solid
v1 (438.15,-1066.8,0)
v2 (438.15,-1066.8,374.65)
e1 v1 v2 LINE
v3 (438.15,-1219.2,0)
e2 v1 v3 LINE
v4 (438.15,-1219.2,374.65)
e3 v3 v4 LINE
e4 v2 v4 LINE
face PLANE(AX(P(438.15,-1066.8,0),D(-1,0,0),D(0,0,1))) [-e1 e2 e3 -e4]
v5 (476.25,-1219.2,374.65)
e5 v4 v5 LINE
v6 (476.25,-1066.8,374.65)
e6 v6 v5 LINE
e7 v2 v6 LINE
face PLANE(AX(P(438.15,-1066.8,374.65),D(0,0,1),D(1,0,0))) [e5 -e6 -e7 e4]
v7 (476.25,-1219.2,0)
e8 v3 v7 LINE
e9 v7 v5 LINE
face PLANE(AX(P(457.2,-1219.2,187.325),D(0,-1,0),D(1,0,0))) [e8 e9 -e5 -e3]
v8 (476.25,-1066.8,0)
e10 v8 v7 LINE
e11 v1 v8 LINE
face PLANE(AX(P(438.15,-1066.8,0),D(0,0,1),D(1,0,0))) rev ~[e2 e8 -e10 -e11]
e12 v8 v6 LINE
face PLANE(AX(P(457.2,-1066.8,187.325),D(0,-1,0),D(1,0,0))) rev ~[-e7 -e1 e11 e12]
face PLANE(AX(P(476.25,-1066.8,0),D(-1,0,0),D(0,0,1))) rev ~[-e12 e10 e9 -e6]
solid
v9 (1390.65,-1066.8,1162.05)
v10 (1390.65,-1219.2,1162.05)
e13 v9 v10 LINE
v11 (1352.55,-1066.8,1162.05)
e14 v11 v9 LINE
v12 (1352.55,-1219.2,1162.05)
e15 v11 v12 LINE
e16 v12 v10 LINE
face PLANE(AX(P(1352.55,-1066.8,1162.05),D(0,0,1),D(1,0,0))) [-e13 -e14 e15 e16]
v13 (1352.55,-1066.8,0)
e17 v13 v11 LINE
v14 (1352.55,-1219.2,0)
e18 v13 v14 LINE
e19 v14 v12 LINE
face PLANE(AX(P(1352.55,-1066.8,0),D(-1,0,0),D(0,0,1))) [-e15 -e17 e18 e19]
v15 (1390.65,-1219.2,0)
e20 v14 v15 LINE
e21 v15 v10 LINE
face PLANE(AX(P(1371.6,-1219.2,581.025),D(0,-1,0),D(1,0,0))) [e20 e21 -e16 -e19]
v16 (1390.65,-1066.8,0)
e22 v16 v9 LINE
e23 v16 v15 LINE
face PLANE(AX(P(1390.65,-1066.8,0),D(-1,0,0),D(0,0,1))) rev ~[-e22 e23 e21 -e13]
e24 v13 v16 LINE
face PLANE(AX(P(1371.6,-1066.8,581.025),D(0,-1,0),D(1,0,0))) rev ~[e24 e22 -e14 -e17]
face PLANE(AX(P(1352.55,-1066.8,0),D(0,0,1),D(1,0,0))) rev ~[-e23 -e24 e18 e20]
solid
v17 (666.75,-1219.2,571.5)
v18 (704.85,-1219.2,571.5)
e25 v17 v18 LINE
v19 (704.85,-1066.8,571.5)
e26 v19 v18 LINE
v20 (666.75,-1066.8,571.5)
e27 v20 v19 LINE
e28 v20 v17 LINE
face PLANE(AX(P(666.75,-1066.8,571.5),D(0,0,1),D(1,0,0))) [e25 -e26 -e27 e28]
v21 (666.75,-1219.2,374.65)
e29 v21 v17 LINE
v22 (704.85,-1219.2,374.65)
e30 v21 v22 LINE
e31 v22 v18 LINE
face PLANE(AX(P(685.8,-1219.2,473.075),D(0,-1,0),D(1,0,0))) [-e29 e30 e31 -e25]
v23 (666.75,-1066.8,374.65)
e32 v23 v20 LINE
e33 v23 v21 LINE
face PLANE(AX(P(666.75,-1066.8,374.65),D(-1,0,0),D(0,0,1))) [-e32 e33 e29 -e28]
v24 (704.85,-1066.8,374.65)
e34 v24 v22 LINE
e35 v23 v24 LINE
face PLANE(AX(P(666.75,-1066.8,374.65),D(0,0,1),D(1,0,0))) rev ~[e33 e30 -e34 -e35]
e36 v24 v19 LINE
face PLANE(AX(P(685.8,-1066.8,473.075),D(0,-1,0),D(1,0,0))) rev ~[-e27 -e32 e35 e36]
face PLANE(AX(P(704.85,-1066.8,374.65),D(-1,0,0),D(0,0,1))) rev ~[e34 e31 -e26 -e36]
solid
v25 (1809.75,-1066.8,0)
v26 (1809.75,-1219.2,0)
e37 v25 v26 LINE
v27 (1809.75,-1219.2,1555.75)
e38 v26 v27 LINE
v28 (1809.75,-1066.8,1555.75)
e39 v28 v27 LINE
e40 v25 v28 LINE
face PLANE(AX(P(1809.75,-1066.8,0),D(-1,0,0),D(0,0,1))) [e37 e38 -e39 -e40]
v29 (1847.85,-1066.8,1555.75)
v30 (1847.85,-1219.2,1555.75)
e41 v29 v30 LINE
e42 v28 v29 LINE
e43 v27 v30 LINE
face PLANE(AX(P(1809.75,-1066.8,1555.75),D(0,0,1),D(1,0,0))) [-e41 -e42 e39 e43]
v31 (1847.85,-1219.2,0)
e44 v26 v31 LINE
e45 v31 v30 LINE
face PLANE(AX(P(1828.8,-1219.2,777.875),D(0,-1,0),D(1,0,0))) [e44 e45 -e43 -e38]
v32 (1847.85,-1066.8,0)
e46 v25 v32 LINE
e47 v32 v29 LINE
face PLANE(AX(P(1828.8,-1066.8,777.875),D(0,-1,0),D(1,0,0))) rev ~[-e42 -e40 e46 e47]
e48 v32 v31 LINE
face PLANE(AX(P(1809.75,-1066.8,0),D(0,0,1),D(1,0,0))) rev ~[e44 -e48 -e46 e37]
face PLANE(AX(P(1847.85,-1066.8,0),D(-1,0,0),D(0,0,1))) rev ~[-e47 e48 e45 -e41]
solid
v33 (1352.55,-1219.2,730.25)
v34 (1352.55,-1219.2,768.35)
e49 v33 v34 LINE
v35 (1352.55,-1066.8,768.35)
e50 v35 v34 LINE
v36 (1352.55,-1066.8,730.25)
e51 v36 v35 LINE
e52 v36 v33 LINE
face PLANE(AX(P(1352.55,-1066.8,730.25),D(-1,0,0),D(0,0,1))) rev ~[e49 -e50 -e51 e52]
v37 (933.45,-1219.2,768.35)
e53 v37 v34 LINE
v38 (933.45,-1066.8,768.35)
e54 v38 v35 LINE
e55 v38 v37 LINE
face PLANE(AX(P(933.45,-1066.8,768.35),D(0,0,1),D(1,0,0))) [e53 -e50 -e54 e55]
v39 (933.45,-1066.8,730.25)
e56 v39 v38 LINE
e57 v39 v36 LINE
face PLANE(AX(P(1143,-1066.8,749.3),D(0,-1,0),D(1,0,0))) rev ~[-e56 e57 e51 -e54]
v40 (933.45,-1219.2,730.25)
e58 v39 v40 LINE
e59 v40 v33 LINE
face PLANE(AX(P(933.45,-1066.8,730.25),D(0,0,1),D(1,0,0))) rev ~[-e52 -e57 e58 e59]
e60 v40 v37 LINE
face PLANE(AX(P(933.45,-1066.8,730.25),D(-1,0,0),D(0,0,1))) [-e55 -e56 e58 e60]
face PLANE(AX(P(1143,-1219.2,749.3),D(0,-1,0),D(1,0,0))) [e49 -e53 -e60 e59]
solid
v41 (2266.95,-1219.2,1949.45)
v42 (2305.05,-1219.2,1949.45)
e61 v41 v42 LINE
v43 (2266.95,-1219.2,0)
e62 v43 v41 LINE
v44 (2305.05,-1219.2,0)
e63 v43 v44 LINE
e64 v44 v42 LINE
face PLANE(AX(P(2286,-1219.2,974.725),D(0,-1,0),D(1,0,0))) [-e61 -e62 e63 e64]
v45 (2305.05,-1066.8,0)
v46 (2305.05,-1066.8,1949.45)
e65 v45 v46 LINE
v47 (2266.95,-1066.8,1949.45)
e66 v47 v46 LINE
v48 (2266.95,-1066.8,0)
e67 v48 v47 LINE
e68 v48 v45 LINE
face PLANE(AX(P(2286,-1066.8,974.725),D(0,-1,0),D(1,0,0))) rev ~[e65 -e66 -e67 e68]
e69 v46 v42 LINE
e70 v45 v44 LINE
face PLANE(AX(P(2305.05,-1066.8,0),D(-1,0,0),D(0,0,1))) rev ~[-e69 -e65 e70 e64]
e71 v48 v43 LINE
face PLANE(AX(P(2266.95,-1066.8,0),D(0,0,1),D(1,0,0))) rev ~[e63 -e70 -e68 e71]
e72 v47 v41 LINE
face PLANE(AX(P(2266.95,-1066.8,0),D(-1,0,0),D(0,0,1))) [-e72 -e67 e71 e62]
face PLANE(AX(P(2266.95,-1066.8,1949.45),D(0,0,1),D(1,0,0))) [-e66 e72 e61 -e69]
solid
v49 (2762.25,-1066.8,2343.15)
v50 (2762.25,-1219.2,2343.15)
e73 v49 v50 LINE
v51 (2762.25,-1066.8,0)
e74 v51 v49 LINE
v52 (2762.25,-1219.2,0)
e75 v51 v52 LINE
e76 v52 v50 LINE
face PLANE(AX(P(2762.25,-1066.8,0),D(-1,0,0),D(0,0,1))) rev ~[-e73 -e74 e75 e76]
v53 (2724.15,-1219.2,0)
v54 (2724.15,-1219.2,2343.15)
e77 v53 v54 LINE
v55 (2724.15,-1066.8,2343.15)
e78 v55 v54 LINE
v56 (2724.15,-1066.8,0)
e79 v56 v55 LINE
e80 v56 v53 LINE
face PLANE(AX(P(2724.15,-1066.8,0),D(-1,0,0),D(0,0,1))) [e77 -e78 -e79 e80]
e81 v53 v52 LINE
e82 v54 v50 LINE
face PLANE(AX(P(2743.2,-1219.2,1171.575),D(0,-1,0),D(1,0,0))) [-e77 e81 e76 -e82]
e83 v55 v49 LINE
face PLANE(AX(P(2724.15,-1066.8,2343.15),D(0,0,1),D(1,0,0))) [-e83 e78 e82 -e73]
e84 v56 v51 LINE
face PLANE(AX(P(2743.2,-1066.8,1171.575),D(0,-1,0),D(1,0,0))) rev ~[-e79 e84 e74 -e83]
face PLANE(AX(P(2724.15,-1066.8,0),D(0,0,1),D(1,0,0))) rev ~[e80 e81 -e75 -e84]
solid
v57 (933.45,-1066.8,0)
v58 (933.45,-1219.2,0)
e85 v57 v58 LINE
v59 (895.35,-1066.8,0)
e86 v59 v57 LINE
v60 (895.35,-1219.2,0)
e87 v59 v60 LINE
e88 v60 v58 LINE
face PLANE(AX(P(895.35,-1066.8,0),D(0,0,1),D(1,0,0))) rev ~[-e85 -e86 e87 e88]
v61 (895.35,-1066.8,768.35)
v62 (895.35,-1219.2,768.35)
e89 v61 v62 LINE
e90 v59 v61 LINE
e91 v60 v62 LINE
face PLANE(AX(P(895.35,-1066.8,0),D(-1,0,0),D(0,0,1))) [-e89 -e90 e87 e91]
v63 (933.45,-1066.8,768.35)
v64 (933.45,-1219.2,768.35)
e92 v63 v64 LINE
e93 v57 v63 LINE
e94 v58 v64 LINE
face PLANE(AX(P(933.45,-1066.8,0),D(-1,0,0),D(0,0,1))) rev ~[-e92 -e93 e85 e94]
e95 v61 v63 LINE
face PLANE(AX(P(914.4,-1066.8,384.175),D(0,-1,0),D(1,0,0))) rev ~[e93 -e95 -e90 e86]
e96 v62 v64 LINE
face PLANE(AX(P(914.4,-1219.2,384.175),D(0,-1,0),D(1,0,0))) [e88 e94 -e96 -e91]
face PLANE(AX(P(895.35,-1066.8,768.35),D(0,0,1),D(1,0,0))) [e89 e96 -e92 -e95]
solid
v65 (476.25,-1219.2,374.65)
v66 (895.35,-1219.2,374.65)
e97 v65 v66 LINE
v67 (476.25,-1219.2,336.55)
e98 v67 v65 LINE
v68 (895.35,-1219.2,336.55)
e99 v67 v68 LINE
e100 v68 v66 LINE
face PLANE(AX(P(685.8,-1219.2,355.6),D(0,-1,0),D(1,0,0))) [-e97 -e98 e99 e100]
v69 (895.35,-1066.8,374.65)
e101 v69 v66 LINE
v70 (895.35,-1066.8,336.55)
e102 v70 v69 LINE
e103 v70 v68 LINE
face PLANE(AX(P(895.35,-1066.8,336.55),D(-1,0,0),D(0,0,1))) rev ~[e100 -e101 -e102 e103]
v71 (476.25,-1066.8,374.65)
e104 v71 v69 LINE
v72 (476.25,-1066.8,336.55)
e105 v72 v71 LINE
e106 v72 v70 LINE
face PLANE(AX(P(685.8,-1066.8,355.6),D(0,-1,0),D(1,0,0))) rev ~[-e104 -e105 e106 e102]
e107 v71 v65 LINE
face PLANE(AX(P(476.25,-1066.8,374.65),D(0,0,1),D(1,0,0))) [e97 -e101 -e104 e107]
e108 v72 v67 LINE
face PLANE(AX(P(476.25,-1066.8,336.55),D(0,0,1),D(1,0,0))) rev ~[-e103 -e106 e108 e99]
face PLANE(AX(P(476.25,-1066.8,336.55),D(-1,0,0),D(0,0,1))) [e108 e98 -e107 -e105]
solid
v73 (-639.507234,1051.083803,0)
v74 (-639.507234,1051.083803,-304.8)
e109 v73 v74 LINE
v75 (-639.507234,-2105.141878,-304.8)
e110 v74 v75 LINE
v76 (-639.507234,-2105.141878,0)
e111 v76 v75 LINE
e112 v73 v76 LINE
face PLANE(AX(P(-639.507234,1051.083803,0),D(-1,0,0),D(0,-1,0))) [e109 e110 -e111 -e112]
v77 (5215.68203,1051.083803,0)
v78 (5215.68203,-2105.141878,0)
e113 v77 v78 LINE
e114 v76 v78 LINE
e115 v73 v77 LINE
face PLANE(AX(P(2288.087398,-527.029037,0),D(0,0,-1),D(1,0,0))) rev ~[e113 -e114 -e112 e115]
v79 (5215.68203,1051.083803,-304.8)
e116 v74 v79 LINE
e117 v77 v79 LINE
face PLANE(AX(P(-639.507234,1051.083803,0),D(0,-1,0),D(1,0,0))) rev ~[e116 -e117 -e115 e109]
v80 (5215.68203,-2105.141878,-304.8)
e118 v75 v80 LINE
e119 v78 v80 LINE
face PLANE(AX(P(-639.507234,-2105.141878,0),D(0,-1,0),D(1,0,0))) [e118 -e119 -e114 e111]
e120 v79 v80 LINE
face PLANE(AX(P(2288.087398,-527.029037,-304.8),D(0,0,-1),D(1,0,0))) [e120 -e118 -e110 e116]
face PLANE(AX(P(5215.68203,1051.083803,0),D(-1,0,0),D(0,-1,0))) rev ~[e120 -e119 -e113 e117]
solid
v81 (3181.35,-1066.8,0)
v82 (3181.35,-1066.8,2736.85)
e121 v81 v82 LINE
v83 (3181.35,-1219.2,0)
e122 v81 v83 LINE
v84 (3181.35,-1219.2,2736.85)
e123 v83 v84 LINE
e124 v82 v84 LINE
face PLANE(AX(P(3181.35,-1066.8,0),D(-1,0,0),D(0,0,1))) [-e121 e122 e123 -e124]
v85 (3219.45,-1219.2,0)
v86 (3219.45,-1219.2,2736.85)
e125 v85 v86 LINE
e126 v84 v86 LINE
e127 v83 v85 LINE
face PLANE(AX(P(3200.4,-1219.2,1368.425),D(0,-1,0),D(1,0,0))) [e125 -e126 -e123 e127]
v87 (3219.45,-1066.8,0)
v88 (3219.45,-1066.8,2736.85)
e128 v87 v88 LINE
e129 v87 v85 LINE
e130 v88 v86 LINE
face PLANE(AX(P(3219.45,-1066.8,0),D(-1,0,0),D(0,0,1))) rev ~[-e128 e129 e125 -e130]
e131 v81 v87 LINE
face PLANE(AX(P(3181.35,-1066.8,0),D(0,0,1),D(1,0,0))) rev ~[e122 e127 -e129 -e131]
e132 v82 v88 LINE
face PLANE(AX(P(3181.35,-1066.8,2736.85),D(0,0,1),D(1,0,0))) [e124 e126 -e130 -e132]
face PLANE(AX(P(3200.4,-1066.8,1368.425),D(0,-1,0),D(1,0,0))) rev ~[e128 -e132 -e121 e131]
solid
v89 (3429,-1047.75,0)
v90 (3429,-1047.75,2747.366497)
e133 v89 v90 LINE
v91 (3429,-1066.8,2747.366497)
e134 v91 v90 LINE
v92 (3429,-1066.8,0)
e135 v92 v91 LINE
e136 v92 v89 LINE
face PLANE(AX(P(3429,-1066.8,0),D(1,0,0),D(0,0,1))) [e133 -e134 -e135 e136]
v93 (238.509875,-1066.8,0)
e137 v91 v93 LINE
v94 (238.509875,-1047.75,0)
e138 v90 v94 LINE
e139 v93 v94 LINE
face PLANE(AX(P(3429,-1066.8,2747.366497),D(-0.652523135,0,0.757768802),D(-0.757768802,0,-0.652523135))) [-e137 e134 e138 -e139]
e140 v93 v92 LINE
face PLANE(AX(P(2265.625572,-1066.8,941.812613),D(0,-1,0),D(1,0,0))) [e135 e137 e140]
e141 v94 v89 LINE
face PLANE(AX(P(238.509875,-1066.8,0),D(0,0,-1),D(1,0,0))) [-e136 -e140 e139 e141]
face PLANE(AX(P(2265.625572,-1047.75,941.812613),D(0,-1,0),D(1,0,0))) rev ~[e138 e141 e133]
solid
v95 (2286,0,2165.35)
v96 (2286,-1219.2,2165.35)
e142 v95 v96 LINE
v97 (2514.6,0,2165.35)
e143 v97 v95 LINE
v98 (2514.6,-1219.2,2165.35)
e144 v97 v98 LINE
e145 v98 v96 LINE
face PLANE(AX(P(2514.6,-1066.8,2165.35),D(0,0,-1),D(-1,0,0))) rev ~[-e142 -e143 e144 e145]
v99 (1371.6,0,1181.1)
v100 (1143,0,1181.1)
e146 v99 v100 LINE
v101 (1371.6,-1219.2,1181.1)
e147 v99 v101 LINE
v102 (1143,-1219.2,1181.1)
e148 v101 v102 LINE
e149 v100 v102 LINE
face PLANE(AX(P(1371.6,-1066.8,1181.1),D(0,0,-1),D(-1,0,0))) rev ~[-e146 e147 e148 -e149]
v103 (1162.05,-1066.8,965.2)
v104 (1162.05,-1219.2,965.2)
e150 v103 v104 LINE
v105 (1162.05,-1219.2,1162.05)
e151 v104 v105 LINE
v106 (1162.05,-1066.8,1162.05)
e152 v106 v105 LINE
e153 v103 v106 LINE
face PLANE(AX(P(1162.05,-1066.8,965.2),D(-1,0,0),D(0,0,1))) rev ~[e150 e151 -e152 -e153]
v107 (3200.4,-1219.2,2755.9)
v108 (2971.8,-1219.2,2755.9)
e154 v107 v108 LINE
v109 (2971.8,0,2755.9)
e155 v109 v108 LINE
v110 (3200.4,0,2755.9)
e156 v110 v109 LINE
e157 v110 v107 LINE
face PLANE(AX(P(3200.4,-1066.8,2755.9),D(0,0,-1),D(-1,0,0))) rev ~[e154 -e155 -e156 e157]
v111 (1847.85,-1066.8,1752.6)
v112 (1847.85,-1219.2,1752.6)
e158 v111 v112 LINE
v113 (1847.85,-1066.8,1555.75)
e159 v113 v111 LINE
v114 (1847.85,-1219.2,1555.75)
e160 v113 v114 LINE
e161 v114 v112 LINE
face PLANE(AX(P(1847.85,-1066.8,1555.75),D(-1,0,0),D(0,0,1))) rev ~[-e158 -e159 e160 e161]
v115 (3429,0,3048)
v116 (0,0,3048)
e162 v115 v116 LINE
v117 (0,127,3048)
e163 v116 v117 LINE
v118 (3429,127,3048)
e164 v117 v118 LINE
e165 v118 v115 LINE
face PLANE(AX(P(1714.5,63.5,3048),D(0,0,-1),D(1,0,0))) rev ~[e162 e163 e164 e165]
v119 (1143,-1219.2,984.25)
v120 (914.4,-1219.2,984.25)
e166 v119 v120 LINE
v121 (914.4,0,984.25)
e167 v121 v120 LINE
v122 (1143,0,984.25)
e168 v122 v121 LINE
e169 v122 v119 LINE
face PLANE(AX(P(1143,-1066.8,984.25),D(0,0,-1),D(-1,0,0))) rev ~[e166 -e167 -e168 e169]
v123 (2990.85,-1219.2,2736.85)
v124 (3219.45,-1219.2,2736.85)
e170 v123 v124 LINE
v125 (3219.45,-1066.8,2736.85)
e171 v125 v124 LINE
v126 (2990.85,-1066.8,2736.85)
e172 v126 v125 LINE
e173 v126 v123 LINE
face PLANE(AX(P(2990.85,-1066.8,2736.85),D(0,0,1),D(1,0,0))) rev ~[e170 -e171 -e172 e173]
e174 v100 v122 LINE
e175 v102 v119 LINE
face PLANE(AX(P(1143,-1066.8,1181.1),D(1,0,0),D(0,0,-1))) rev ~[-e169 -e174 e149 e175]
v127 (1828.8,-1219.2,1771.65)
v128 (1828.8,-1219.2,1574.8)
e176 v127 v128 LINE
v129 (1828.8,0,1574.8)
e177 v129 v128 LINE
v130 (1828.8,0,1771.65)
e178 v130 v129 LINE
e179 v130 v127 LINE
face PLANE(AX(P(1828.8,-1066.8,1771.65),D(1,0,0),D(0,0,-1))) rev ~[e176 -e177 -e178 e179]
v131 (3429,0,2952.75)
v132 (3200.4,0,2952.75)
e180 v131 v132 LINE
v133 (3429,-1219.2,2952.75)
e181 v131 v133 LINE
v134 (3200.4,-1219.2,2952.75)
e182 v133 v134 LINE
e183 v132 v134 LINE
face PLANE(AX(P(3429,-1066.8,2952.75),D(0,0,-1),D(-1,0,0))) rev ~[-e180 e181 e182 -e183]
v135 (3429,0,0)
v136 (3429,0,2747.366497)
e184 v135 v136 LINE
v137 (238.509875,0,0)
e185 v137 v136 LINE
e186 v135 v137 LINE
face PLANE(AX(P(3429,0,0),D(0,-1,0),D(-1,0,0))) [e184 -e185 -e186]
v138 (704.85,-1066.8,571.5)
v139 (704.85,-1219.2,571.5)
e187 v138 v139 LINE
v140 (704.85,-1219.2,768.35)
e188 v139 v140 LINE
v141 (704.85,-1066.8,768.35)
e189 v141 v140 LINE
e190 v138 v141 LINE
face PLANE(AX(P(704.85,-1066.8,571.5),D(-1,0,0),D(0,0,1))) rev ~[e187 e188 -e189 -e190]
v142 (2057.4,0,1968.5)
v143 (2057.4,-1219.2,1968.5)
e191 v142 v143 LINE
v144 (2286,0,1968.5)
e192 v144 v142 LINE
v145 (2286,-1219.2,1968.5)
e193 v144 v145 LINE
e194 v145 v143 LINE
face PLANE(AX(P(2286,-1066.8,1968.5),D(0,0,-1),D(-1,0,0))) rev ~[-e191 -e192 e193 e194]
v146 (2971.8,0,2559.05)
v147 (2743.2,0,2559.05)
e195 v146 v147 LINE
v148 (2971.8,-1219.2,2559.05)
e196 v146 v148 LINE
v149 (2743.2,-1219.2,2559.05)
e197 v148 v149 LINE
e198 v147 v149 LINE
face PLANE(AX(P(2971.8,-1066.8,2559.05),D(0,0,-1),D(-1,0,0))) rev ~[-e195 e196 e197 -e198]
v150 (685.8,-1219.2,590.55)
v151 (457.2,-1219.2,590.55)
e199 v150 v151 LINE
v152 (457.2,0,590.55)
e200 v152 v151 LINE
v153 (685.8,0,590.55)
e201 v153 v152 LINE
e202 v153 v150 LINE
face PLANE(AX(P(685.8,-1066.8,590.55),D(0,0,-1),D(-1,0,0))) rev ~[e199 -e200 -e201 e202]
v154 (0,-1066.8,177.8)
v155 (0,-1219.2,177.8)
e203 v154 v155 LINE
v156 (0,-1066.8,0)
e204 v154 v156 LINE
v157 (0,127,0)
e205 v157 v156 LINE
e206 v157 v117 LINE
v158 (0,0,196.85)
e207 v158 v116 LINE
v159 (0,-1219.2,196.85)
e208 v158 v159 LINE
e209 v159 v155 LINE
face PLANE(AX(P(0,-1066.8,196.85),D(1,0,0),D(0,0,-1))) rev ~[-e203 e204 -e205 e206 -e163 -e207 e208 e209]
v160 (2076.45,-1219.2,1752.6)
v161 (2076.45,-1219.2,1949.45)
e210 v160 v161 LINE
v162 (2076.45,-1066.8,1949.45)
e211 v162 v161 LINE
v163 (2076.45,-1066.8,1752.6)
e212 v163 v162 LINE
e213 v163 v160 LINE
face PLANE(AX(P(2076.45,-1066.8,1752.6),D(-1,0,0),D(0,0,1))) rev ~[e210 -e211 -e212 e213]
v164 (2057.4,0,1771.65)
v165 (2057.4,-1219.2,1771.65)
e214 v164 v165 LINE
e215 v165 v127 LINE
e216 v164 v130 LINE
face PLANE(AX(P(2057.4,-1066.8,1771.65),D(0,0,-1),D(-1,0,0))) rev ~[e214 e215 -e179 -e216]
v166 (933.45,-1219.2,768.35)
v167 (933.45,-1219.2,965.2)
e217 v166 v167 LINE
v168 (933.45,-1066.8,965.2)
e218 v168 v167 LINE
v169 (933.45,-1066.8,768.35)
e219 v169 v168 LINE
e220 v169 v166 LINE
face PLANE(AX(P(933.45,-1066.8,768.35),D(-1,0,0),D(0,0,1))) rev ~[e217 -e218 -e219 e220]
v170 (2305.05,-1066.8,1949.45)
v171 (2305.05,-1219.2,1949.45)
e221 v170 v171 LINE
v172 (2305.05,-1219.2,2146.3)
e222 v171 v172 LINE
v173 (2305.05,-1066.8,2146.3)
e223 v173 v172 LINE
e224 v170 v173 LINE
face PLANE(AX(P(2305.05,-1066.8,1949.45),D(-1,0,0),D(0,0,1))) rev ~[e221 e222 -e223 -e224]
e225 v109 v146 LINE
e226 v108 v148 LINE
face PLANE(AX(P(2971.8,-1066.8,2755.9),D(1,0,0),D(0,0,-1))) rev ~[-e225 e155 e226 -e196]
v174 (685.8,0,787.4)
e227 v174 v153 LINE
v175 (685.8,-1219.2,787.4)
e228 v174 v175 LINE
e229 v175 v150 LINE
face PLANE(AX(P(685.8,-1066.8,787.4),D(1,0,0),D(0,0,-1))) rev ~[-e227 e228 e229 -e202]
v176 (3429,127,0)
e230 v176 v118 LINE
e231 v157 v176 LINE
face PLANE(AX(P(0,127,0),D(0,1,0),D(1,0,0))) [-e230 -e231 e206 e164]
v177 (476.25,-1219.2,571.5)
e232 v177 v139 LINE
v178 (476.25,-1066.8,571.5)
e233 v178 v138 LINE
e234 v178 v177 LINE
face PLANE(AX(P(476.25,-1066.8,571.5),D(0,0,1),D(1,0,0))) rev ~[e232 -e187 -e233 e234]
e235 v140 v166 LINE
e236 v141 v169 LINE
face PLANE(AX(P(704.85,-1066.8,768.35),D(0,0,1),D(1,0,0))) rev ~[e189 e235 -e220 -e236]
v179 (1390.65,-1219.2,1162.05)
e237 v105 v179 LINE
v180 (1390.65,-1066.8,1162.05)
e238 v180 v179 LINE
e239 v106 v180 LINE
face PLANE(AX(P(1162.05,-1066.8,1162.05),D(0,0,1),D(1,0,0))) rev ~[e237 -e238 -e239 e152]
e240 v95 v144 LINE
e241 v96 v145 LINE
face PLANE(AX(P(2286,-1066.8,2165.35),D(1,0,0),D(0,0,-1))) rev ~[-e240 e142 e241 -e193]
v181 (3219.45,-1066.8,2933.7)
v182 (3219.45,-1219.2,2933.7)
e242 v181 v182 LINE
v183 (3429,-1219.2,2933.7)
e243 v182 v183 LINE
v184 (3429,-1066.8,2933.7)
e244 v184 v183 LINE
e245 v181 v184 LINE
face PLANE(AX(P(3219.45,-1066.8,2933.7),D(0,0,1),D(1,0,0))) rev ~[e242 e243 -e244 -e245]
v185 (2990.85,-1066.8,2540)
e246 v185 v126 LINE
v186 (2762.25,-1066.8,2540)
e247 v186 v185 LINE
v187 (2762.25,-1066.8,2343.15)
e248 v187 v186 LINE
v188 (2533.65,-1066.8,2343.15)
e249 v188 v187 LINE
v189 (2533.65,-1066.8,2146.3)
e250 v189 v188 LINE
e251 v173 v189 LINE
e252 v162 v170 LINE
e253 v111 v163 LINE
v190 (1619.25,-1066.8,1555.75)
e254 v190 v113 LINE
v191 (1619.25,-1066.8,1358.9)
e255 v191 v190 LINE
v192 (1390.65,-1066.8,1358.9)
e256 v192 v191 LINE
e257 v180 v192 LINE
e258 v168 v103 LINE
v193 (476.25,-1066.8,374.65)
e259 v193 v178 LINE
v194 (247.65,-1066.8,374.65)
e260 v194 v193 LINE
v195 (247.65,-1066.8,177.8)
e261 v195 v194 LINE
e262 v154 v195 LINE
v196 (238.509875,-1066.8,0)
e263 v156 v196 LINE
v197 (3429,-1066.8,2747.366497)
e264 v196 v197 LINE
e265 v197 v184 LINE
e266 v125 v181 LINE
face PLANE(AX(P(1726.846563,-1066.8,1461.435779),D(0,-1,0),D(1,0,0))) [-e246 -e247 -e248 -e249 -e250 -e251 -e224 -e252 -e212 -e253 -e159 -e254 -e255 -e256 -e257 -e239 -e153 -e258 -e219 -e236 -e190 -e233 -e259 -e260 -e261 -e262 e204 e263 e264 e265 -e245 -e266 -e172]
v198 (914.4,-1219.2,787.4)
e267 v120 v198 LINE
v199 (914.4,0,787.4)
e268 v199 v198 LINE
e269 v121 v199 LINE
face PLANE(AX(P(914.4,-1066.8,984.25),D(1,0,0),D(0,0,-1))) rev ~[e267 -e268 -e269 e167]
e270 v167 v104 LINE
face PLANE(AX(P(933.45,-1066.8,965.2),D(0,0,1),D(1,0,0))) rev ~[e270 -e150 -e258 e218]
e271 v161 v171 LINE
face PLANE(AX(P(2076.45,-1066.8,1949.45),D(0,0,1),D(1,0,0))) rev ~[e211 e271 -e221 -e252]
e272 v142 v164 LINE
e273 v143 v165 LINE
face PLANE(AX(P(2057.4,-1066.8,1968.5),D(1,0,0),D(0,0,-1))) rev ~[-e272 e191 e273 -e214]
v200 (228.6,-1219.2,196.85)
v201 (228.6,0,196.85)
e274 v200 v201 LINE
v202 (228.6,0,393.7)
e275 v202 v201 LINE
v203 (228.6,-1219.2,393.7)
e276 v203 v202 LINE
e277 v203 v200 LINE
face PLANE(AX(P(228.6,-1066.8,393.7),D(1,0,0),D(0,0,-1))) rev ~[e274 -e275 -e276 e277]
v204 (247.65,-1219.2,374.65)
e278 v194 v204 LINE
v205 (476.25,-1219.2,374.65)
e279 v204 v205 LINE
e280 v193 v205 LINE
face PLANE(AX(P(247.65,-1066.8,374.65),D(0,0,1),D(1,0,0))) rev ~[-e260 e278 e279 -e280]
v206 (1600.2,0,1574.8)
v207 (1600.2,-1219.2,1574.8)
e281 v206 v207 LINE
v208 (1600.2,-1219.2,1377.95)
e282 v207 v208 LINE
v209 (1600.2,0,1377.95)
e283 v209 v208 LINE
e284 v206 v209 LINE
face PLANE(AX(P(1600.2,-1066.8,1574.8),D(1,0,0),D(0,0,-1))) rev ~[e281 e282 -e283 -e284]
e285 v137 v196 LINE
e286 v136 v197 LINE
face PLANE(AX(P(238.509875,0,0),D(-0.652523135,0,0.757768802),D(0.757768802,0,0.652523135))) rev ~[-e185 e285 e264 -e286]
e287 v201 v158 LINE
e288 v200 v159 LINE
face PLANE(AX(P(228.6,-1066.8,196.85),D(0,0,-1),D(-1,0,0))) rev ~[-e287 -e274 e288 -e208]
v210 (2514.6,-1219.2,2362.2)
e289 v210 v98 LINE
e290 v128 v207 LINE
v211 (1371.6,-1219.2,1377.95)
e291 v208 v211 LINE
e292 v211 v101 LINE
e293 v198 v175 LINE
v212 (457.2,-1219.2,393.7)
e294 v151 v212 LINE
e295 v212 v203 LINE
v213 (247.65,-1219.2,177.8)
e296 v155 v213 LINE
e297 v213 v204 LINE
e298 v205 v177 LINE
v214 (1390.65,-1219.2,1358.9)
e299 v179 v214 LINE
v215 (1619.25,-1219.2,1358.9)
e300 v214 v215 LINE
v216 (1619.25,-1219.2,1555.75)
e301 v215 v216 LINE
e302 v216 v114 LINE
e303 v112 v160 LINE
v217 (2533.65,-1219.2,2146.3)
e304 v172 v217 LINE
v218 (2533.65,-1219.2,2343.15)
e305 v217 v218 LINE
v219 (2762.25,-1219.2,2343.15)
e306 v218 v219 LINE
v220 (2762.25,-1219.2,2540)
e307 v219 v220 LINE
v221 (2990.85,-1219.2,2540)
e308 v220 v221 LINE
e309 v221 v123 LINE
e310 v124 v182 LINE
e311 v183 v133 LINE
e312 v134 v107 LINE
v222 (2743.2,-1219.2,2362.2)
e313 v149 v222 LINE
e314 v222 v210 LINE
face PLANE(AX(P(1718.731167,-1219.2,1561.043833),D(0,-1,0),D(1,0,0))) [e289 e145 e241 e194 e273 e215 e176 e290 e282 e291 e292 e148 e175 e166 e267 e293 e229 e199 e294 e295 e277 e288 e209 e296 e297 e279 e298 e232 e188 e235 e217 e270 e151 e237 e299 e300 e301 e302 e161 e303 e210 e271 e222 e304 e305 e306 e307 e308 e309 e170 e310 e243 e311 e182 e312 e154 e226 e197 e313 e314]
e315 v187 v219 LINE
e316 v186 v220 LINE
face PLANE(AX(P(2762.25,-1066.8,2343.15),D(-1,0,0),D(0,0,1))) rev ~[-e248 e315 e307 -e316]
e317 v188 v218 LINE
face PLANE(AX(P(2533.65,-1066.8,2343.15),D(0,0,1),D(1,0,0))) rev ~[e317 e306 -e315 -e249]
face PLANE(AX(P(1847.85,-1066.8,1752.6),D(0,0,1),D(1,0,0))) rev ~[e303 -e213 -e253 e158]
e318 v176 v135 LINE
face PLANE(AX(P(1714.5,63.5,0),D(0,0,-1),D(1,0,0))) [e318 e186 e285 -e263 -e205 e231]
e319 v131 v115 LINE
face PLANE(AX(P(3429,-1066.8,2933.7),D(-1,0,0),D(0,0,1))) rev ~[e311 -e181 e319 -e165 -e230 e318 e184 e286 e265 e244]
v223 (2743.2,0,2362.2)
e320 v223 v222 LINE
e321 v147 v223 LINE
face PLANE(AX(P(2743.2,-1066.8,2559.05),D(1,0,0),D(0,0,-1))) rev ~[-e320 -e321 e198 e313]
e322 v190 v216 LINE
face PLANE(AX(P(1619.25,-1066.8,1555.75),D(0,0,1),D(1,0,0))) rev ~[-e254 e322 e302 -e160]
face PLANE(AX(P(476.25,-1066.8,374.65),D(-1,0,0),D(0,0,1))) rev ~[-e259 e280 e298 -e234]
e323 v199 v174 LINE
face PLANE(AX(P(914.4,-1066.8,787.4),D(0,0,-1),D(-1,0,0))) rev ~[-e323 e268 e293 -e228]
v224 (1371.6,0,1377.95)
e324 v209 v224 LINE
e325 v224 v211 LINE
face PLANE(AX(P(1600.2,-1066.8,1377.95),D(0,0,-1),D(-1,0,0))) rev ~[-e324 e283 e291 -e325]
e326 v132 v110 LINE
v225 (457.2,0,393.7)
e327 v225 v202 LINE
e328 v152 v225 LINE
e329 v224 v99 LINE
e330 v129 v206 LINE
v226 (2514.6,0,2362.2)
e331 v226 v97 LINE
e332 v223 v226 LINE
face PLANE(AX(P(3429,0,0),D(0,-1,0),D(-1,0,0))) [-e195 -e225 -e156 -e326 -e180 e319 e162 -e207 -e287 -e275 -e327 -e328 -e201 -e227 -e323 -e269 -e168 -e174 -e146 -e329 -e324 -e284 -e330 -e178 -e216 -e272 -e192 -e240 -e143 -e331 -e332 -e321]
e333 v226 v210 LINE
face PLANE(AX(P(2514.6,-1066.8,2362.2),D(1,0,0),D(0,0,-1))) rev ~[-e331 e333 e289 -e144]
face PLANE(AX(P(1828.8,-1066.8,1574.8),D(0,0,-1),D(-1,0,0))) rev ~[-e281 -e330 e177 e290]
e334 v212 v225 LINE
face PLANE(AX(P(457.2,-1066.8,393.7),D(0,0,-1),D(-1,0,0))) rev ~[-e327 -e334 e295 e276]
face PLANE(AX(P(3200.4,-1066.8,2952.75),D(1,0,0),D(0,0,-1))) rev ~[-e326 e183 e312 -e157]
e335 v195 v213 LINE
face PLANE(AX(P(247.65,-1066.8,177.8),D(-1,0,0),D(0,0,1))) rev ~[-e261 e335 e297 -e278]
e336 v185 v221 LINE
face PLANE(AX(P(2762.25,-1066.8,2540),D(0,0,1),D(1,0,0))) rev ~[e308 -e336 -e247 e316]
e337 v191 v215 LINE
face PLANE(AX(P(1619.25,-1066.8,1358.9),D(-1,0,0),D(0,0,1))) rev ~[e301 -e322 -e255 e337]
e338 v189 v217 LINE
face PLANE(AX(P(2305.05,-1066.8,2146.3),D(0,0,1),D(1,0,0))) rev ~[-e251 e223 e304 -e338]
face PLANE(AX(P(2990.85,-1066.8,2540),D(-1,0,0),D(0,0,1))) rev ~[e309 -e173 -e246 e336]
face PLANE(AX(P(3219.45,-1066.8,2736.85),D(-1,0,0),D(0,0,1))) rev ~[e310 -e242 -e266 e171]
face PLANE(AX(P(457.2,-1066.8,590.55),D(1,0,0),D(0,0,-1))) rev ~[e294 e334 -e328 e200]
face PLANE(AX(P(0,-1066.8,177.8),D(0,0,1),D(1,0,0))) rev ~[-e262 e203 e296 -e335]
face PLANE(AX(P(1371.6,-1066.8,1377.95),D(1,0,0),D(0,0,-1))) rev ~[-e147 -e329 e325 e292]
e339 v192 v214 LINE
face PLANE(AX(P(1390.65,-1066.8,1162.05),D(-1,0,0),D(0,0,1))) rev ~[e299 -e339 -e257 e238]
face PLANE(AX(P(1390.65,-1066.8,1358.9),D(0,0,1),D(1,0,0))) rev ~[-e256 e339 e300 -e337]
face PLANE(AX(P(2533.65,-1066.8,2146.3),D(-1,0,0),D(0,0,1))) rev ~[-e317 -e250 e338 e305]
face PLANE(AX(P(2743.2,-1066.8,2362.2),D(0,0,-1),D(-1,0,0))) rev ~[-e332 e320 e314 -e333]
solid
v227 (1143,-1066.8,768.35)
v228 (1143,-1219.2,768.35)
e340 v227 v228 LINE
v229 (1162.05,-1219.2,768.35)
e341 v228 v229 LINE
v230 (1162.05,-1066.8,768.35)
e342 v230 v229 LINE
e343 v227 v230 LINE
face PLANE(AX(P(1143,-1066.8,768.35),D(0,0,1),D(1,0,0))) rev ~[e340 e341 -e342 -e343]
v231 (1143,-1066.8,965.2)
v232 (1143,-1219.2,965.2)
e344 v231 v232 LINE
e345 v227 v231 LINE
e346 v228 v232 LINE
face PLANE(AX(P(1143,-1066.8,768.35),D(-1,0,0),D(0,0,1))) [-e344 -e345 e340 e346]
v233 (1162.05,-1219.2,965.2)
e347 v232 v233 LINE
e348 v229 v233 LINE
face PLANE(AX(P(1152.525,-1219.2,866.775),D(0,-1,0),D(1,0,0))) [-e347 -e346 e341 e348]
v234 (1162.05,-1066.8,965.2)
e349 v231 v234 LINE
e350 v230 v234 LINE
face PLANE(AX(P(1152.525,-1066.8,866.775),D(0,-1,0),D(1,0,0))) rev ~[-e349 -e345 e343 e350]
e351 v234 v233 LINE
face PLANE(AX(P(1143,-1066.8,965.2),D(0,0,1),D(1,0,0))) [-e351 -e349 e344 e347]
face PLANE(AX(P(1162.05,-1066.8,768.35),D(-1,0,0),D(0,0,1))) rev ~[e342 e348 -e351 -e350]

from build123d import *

# Parameters (mm, degrees)
F1_DEPTH  = 1066.8
F3_DEPTH  = 3048
F5_DEPTH  = 19.05
F8_DEPTH  = 152.4
F9_W      = 38.1
F9_H      = 374.65
F10_DEPTH = 152.4
F9_H_2    = 768.35
F9_H_3    = 1162.05
F9_H_4    = 1555.75
F9_H_5    = 1949.45
F9_H_6    = 2343.15
F9_H_7    = 2736.85
F11_W     = 419.1
F11_H     = 38.1
F12_DEPTH = 152.4
F13_W     = 5855.1892638206
F13_H     = 3156.2256813049
F14_DEPTH = 304.8
F15_W     = 38.1
F15_H     = 196.85
F16_DEPTH = 152.4
F15_W_2   = 19.05


with BuildPart() as f1:
    # F0 (on Front) → F1 (new body)
    with BuildSketch(Plane.XZ):
        Polygon((0, 196.85), (0, 0), (238.5098747049, 0), (3429, 2747.3664967819), (3429, 2952.75), (3200.4, 2952.75), (3200.4, 2755.9), (2971.8, 2755.9), (2971.8, 2559.05), (2743.2, 2559.05), (2743.2, 2362.2), (2514.6, 2362.2), (2514.6, 2165.35), (2286, 2165.35), (2286, 1968.5), (2057.4, 1968.5), (2057.4, 1771.65), (1828.8, 1771.65), (1828.8, 1574.8), (1600.2, 1574.8), (1600.2, 1377.95), (1371.6, 1377.95), (1371.6, 1181.1), (1143, 1181.1), (1143, 984.25), (914.4, 984.25), (914.4, 787.4), (685.8, 787.4), (685.8, 590.55), (457.2, 590.55), (457.2, 393.7), (228.6, 393.7), (228.6, 196.85), align=None)
    extrude(amount=F1_DEPTH)

    # F2 (on face) → F3 (join)
    with BuildSketch(Plane(origin=(0, 0, 0), x_dir=(1, 0, 0), z_dir=(0, 0, -1))):
        Polygon((238.5098747049, 0), (0, 0), (0, -127), (3429, -127), (3429, 0), align=None)
    extrude(amount=-F3_DEPTH)

    # F7 (on face) → F8 (join)
    with BuildSketch(Plane.XZ.offset(1066.8)):
        Polygon((228.6, 196.85), (0, 196.85), (0, 177.8), (247.65, 177.8), (247.65, 374.65), (476.25, 374.65), (476.25, 571.5), (704.85, 571.5), (704.85, 768.35), (933.45, 768.35), (933.45, 965.2), (1162.05, 965.2), (1162.05, 1162.05), (1390.65, 1162.05), (1390.65, 1358.9), (1619.25, 1358.9), (1619.25, 1555.75), (1847.85, 1555.75), (1847.85, 1752.6), (2076.45, 1752.6), (2076.45, 1949.45), (2305.05, 1949.45), (2305.05, 2146.3), (2533.65, 2146.3), (2533.65, 2343.15), (2762.25, 2343.15), (2762.25, 2540), (2990.85, 2540), (2990.85, 2736.85), (3219.45, 2736.85), (3219.45, 2933.7), (3429, 2933.7), (3429, 2952.75), (3200.4, 2952.75), (3200.4, 2755.9), (2971.8, 2755.9), (2971.8, 2559.05), (2743.2, 2559.05), (2743.2, 2362.2), (2514.6, 2362.2), (2514.6, 2165.35), (2286, 2165.35), (2286, 1968.5), (2057.4, 1968.5), (2057.4, 1771.65), (1828.8, 1771.65), (1828.8, 1574.8), (1600.2, 1574.8), (1600.2, 1377.95), (1371.6, 1377.95), (1371.6, 1181.1), (1143, 1181.1), (1143, 984.25), (914.4, 984.25), (914.4, 787.4), (685.8, 787.4), (685.8, 590.55), (457.2, 590.55), (457.2, 393.7), (228.6, 393.7), align=None)
    extrude(amount=F8_DEPTH)


with BuildPart() as f5:
    # F4 (on face) → F5 (new body)
    with BuildSketch(Plane.XZ.offset(1066.8)):
        Polygon((3429, 2747.3664967819), (238.5098747049, 0), (3429, 0), align=None)
    extrude(amount=-F5_DEPTH)


with BuildPart() as f10:
    # F9 (on face) → F10 (new body)
    with BuildSketch(Plane.XZ.offset(1066.8)):
        with Locations((457.2, 187.325)):
            Rectangle(F9_W, F9_H)
    extrude(amount=F10_DEPTH)


with BuildPart() as f10b:
    # F9 (on face) → F10, piece 2 (new body)
    with BuildSketch(Plane.XZ.offset(1066.8)):
        with Locations((914.4, 384.175)):
            Rectangle(F9_W, F9_H_2)
    extrude(amount=F10_DEPTH)


with BuildPart() as f10c:
    # F9 (on face) → F10, piece 3 (new body)
    with BuildSketch(Plane.XZ.offset(1066.8)):
        with Locations((1371.6, 581.025)):
            Rectangle(F9_W, F9_H_3)
    extrude(amount=F10_DEPTH)


with BuildPart() as f10d:
    # F9 (on face) → F10, piece 4 (new body)
    with BuildSketch(Plane.XZ.offset(1066.8)):
        with Locations((1828.8, 777.875)):
            Rectangle(F9_W, F9_H_4)
    extrude(amount=F10_DEPTH)


with BuildPart() as f10e:
    # F9 (on face) → F10, piece 5 (new body)
    with BuildSketch(Plane.XZ.offset(1066.8)):
        with Locations((2286, 974.725)):
            Rectangle(F9_W, F9_H_5)
    extrude(amount=F10_DEPTH)


with BuildPart() as f10f:
    # F9 (on face) → F10, piece 6 (new body)
    with BuildSketch(Plane.XZ.offset(1066.8)):
        with Locations((2743.2, 1171.575)):
            Rectangle(F9_W, F9_H_6)
    extrude(amount=F10_DEPTH)


with BuildPart() as f10g:
    # F9 (on face) → F10, piece 7 (new body)
    with BuildSketch(Plane.XZ.offset(1066.8)):
        with Locations((3200.4, 1368.425)):
            Rectangle(F9_W, F9_H_7)
    extrude(amount=F10_DEPTH)


with BuildPart() as f12:
    # F11 (on face) → F12 (new body)
    with BuildSketch(Plane.XZ.offset(1066.8)):
        with Locations((685.8, 355.6)):
            Rectangle(F11_W, F11_H)
    extrude(amount=F12_DEPTH)


with BuildPart() as f12b:
    # F11 (on face) → F12, piece 2 (new body)
    with BuildSketch(Plane.XZ.offset(1066.8)):
        with Locations((1143, 749.3)):
            Rectangle(F11_W, F11_H)
    extrude(amount=F12_DEPTH)


with BuildPart() as f14:
    # F13 (on face) → F14 (new body)
    with BuildSketch(Plane(origin=(0, 0, 0), x_dir=(1, 0, 0), z_dir=(0, 0, -1))):
        with Locations((2288.0873978138, 527.0290374756)):
            Rectangle(F13_W, F13_H)
    extrude(amount=F14_DEPTH)


with BuildPart() as f16:
    # F15 (on face) → F16 (new body)
    with BuildSketch(Plane.XZ.offset(1066.8)):
        with Locations((685.8, 473.075)):
            Rectangle(F15_W, F15_H)
    extrude(amount=F16_DEPTH)


with BuildPart() as f16b:
    # F15 (on face) → F16, piece 2 (new body)
    with BuildSketch(Plane.XZ.offset(1066.8)):
        with Locations((1152.525, 866.775)):
            Rectangle(F15_W_2, F15_H)
    extrude(amount=F16_DEPTH)


solid = Compound([f1.part, f5.part, f10.part, f10b.part, f10c.part, f10d.part, f10e.part, f10f.part, f10g.part, f12.part, f12b.part, f14.part, f16.part, f16b.part])
